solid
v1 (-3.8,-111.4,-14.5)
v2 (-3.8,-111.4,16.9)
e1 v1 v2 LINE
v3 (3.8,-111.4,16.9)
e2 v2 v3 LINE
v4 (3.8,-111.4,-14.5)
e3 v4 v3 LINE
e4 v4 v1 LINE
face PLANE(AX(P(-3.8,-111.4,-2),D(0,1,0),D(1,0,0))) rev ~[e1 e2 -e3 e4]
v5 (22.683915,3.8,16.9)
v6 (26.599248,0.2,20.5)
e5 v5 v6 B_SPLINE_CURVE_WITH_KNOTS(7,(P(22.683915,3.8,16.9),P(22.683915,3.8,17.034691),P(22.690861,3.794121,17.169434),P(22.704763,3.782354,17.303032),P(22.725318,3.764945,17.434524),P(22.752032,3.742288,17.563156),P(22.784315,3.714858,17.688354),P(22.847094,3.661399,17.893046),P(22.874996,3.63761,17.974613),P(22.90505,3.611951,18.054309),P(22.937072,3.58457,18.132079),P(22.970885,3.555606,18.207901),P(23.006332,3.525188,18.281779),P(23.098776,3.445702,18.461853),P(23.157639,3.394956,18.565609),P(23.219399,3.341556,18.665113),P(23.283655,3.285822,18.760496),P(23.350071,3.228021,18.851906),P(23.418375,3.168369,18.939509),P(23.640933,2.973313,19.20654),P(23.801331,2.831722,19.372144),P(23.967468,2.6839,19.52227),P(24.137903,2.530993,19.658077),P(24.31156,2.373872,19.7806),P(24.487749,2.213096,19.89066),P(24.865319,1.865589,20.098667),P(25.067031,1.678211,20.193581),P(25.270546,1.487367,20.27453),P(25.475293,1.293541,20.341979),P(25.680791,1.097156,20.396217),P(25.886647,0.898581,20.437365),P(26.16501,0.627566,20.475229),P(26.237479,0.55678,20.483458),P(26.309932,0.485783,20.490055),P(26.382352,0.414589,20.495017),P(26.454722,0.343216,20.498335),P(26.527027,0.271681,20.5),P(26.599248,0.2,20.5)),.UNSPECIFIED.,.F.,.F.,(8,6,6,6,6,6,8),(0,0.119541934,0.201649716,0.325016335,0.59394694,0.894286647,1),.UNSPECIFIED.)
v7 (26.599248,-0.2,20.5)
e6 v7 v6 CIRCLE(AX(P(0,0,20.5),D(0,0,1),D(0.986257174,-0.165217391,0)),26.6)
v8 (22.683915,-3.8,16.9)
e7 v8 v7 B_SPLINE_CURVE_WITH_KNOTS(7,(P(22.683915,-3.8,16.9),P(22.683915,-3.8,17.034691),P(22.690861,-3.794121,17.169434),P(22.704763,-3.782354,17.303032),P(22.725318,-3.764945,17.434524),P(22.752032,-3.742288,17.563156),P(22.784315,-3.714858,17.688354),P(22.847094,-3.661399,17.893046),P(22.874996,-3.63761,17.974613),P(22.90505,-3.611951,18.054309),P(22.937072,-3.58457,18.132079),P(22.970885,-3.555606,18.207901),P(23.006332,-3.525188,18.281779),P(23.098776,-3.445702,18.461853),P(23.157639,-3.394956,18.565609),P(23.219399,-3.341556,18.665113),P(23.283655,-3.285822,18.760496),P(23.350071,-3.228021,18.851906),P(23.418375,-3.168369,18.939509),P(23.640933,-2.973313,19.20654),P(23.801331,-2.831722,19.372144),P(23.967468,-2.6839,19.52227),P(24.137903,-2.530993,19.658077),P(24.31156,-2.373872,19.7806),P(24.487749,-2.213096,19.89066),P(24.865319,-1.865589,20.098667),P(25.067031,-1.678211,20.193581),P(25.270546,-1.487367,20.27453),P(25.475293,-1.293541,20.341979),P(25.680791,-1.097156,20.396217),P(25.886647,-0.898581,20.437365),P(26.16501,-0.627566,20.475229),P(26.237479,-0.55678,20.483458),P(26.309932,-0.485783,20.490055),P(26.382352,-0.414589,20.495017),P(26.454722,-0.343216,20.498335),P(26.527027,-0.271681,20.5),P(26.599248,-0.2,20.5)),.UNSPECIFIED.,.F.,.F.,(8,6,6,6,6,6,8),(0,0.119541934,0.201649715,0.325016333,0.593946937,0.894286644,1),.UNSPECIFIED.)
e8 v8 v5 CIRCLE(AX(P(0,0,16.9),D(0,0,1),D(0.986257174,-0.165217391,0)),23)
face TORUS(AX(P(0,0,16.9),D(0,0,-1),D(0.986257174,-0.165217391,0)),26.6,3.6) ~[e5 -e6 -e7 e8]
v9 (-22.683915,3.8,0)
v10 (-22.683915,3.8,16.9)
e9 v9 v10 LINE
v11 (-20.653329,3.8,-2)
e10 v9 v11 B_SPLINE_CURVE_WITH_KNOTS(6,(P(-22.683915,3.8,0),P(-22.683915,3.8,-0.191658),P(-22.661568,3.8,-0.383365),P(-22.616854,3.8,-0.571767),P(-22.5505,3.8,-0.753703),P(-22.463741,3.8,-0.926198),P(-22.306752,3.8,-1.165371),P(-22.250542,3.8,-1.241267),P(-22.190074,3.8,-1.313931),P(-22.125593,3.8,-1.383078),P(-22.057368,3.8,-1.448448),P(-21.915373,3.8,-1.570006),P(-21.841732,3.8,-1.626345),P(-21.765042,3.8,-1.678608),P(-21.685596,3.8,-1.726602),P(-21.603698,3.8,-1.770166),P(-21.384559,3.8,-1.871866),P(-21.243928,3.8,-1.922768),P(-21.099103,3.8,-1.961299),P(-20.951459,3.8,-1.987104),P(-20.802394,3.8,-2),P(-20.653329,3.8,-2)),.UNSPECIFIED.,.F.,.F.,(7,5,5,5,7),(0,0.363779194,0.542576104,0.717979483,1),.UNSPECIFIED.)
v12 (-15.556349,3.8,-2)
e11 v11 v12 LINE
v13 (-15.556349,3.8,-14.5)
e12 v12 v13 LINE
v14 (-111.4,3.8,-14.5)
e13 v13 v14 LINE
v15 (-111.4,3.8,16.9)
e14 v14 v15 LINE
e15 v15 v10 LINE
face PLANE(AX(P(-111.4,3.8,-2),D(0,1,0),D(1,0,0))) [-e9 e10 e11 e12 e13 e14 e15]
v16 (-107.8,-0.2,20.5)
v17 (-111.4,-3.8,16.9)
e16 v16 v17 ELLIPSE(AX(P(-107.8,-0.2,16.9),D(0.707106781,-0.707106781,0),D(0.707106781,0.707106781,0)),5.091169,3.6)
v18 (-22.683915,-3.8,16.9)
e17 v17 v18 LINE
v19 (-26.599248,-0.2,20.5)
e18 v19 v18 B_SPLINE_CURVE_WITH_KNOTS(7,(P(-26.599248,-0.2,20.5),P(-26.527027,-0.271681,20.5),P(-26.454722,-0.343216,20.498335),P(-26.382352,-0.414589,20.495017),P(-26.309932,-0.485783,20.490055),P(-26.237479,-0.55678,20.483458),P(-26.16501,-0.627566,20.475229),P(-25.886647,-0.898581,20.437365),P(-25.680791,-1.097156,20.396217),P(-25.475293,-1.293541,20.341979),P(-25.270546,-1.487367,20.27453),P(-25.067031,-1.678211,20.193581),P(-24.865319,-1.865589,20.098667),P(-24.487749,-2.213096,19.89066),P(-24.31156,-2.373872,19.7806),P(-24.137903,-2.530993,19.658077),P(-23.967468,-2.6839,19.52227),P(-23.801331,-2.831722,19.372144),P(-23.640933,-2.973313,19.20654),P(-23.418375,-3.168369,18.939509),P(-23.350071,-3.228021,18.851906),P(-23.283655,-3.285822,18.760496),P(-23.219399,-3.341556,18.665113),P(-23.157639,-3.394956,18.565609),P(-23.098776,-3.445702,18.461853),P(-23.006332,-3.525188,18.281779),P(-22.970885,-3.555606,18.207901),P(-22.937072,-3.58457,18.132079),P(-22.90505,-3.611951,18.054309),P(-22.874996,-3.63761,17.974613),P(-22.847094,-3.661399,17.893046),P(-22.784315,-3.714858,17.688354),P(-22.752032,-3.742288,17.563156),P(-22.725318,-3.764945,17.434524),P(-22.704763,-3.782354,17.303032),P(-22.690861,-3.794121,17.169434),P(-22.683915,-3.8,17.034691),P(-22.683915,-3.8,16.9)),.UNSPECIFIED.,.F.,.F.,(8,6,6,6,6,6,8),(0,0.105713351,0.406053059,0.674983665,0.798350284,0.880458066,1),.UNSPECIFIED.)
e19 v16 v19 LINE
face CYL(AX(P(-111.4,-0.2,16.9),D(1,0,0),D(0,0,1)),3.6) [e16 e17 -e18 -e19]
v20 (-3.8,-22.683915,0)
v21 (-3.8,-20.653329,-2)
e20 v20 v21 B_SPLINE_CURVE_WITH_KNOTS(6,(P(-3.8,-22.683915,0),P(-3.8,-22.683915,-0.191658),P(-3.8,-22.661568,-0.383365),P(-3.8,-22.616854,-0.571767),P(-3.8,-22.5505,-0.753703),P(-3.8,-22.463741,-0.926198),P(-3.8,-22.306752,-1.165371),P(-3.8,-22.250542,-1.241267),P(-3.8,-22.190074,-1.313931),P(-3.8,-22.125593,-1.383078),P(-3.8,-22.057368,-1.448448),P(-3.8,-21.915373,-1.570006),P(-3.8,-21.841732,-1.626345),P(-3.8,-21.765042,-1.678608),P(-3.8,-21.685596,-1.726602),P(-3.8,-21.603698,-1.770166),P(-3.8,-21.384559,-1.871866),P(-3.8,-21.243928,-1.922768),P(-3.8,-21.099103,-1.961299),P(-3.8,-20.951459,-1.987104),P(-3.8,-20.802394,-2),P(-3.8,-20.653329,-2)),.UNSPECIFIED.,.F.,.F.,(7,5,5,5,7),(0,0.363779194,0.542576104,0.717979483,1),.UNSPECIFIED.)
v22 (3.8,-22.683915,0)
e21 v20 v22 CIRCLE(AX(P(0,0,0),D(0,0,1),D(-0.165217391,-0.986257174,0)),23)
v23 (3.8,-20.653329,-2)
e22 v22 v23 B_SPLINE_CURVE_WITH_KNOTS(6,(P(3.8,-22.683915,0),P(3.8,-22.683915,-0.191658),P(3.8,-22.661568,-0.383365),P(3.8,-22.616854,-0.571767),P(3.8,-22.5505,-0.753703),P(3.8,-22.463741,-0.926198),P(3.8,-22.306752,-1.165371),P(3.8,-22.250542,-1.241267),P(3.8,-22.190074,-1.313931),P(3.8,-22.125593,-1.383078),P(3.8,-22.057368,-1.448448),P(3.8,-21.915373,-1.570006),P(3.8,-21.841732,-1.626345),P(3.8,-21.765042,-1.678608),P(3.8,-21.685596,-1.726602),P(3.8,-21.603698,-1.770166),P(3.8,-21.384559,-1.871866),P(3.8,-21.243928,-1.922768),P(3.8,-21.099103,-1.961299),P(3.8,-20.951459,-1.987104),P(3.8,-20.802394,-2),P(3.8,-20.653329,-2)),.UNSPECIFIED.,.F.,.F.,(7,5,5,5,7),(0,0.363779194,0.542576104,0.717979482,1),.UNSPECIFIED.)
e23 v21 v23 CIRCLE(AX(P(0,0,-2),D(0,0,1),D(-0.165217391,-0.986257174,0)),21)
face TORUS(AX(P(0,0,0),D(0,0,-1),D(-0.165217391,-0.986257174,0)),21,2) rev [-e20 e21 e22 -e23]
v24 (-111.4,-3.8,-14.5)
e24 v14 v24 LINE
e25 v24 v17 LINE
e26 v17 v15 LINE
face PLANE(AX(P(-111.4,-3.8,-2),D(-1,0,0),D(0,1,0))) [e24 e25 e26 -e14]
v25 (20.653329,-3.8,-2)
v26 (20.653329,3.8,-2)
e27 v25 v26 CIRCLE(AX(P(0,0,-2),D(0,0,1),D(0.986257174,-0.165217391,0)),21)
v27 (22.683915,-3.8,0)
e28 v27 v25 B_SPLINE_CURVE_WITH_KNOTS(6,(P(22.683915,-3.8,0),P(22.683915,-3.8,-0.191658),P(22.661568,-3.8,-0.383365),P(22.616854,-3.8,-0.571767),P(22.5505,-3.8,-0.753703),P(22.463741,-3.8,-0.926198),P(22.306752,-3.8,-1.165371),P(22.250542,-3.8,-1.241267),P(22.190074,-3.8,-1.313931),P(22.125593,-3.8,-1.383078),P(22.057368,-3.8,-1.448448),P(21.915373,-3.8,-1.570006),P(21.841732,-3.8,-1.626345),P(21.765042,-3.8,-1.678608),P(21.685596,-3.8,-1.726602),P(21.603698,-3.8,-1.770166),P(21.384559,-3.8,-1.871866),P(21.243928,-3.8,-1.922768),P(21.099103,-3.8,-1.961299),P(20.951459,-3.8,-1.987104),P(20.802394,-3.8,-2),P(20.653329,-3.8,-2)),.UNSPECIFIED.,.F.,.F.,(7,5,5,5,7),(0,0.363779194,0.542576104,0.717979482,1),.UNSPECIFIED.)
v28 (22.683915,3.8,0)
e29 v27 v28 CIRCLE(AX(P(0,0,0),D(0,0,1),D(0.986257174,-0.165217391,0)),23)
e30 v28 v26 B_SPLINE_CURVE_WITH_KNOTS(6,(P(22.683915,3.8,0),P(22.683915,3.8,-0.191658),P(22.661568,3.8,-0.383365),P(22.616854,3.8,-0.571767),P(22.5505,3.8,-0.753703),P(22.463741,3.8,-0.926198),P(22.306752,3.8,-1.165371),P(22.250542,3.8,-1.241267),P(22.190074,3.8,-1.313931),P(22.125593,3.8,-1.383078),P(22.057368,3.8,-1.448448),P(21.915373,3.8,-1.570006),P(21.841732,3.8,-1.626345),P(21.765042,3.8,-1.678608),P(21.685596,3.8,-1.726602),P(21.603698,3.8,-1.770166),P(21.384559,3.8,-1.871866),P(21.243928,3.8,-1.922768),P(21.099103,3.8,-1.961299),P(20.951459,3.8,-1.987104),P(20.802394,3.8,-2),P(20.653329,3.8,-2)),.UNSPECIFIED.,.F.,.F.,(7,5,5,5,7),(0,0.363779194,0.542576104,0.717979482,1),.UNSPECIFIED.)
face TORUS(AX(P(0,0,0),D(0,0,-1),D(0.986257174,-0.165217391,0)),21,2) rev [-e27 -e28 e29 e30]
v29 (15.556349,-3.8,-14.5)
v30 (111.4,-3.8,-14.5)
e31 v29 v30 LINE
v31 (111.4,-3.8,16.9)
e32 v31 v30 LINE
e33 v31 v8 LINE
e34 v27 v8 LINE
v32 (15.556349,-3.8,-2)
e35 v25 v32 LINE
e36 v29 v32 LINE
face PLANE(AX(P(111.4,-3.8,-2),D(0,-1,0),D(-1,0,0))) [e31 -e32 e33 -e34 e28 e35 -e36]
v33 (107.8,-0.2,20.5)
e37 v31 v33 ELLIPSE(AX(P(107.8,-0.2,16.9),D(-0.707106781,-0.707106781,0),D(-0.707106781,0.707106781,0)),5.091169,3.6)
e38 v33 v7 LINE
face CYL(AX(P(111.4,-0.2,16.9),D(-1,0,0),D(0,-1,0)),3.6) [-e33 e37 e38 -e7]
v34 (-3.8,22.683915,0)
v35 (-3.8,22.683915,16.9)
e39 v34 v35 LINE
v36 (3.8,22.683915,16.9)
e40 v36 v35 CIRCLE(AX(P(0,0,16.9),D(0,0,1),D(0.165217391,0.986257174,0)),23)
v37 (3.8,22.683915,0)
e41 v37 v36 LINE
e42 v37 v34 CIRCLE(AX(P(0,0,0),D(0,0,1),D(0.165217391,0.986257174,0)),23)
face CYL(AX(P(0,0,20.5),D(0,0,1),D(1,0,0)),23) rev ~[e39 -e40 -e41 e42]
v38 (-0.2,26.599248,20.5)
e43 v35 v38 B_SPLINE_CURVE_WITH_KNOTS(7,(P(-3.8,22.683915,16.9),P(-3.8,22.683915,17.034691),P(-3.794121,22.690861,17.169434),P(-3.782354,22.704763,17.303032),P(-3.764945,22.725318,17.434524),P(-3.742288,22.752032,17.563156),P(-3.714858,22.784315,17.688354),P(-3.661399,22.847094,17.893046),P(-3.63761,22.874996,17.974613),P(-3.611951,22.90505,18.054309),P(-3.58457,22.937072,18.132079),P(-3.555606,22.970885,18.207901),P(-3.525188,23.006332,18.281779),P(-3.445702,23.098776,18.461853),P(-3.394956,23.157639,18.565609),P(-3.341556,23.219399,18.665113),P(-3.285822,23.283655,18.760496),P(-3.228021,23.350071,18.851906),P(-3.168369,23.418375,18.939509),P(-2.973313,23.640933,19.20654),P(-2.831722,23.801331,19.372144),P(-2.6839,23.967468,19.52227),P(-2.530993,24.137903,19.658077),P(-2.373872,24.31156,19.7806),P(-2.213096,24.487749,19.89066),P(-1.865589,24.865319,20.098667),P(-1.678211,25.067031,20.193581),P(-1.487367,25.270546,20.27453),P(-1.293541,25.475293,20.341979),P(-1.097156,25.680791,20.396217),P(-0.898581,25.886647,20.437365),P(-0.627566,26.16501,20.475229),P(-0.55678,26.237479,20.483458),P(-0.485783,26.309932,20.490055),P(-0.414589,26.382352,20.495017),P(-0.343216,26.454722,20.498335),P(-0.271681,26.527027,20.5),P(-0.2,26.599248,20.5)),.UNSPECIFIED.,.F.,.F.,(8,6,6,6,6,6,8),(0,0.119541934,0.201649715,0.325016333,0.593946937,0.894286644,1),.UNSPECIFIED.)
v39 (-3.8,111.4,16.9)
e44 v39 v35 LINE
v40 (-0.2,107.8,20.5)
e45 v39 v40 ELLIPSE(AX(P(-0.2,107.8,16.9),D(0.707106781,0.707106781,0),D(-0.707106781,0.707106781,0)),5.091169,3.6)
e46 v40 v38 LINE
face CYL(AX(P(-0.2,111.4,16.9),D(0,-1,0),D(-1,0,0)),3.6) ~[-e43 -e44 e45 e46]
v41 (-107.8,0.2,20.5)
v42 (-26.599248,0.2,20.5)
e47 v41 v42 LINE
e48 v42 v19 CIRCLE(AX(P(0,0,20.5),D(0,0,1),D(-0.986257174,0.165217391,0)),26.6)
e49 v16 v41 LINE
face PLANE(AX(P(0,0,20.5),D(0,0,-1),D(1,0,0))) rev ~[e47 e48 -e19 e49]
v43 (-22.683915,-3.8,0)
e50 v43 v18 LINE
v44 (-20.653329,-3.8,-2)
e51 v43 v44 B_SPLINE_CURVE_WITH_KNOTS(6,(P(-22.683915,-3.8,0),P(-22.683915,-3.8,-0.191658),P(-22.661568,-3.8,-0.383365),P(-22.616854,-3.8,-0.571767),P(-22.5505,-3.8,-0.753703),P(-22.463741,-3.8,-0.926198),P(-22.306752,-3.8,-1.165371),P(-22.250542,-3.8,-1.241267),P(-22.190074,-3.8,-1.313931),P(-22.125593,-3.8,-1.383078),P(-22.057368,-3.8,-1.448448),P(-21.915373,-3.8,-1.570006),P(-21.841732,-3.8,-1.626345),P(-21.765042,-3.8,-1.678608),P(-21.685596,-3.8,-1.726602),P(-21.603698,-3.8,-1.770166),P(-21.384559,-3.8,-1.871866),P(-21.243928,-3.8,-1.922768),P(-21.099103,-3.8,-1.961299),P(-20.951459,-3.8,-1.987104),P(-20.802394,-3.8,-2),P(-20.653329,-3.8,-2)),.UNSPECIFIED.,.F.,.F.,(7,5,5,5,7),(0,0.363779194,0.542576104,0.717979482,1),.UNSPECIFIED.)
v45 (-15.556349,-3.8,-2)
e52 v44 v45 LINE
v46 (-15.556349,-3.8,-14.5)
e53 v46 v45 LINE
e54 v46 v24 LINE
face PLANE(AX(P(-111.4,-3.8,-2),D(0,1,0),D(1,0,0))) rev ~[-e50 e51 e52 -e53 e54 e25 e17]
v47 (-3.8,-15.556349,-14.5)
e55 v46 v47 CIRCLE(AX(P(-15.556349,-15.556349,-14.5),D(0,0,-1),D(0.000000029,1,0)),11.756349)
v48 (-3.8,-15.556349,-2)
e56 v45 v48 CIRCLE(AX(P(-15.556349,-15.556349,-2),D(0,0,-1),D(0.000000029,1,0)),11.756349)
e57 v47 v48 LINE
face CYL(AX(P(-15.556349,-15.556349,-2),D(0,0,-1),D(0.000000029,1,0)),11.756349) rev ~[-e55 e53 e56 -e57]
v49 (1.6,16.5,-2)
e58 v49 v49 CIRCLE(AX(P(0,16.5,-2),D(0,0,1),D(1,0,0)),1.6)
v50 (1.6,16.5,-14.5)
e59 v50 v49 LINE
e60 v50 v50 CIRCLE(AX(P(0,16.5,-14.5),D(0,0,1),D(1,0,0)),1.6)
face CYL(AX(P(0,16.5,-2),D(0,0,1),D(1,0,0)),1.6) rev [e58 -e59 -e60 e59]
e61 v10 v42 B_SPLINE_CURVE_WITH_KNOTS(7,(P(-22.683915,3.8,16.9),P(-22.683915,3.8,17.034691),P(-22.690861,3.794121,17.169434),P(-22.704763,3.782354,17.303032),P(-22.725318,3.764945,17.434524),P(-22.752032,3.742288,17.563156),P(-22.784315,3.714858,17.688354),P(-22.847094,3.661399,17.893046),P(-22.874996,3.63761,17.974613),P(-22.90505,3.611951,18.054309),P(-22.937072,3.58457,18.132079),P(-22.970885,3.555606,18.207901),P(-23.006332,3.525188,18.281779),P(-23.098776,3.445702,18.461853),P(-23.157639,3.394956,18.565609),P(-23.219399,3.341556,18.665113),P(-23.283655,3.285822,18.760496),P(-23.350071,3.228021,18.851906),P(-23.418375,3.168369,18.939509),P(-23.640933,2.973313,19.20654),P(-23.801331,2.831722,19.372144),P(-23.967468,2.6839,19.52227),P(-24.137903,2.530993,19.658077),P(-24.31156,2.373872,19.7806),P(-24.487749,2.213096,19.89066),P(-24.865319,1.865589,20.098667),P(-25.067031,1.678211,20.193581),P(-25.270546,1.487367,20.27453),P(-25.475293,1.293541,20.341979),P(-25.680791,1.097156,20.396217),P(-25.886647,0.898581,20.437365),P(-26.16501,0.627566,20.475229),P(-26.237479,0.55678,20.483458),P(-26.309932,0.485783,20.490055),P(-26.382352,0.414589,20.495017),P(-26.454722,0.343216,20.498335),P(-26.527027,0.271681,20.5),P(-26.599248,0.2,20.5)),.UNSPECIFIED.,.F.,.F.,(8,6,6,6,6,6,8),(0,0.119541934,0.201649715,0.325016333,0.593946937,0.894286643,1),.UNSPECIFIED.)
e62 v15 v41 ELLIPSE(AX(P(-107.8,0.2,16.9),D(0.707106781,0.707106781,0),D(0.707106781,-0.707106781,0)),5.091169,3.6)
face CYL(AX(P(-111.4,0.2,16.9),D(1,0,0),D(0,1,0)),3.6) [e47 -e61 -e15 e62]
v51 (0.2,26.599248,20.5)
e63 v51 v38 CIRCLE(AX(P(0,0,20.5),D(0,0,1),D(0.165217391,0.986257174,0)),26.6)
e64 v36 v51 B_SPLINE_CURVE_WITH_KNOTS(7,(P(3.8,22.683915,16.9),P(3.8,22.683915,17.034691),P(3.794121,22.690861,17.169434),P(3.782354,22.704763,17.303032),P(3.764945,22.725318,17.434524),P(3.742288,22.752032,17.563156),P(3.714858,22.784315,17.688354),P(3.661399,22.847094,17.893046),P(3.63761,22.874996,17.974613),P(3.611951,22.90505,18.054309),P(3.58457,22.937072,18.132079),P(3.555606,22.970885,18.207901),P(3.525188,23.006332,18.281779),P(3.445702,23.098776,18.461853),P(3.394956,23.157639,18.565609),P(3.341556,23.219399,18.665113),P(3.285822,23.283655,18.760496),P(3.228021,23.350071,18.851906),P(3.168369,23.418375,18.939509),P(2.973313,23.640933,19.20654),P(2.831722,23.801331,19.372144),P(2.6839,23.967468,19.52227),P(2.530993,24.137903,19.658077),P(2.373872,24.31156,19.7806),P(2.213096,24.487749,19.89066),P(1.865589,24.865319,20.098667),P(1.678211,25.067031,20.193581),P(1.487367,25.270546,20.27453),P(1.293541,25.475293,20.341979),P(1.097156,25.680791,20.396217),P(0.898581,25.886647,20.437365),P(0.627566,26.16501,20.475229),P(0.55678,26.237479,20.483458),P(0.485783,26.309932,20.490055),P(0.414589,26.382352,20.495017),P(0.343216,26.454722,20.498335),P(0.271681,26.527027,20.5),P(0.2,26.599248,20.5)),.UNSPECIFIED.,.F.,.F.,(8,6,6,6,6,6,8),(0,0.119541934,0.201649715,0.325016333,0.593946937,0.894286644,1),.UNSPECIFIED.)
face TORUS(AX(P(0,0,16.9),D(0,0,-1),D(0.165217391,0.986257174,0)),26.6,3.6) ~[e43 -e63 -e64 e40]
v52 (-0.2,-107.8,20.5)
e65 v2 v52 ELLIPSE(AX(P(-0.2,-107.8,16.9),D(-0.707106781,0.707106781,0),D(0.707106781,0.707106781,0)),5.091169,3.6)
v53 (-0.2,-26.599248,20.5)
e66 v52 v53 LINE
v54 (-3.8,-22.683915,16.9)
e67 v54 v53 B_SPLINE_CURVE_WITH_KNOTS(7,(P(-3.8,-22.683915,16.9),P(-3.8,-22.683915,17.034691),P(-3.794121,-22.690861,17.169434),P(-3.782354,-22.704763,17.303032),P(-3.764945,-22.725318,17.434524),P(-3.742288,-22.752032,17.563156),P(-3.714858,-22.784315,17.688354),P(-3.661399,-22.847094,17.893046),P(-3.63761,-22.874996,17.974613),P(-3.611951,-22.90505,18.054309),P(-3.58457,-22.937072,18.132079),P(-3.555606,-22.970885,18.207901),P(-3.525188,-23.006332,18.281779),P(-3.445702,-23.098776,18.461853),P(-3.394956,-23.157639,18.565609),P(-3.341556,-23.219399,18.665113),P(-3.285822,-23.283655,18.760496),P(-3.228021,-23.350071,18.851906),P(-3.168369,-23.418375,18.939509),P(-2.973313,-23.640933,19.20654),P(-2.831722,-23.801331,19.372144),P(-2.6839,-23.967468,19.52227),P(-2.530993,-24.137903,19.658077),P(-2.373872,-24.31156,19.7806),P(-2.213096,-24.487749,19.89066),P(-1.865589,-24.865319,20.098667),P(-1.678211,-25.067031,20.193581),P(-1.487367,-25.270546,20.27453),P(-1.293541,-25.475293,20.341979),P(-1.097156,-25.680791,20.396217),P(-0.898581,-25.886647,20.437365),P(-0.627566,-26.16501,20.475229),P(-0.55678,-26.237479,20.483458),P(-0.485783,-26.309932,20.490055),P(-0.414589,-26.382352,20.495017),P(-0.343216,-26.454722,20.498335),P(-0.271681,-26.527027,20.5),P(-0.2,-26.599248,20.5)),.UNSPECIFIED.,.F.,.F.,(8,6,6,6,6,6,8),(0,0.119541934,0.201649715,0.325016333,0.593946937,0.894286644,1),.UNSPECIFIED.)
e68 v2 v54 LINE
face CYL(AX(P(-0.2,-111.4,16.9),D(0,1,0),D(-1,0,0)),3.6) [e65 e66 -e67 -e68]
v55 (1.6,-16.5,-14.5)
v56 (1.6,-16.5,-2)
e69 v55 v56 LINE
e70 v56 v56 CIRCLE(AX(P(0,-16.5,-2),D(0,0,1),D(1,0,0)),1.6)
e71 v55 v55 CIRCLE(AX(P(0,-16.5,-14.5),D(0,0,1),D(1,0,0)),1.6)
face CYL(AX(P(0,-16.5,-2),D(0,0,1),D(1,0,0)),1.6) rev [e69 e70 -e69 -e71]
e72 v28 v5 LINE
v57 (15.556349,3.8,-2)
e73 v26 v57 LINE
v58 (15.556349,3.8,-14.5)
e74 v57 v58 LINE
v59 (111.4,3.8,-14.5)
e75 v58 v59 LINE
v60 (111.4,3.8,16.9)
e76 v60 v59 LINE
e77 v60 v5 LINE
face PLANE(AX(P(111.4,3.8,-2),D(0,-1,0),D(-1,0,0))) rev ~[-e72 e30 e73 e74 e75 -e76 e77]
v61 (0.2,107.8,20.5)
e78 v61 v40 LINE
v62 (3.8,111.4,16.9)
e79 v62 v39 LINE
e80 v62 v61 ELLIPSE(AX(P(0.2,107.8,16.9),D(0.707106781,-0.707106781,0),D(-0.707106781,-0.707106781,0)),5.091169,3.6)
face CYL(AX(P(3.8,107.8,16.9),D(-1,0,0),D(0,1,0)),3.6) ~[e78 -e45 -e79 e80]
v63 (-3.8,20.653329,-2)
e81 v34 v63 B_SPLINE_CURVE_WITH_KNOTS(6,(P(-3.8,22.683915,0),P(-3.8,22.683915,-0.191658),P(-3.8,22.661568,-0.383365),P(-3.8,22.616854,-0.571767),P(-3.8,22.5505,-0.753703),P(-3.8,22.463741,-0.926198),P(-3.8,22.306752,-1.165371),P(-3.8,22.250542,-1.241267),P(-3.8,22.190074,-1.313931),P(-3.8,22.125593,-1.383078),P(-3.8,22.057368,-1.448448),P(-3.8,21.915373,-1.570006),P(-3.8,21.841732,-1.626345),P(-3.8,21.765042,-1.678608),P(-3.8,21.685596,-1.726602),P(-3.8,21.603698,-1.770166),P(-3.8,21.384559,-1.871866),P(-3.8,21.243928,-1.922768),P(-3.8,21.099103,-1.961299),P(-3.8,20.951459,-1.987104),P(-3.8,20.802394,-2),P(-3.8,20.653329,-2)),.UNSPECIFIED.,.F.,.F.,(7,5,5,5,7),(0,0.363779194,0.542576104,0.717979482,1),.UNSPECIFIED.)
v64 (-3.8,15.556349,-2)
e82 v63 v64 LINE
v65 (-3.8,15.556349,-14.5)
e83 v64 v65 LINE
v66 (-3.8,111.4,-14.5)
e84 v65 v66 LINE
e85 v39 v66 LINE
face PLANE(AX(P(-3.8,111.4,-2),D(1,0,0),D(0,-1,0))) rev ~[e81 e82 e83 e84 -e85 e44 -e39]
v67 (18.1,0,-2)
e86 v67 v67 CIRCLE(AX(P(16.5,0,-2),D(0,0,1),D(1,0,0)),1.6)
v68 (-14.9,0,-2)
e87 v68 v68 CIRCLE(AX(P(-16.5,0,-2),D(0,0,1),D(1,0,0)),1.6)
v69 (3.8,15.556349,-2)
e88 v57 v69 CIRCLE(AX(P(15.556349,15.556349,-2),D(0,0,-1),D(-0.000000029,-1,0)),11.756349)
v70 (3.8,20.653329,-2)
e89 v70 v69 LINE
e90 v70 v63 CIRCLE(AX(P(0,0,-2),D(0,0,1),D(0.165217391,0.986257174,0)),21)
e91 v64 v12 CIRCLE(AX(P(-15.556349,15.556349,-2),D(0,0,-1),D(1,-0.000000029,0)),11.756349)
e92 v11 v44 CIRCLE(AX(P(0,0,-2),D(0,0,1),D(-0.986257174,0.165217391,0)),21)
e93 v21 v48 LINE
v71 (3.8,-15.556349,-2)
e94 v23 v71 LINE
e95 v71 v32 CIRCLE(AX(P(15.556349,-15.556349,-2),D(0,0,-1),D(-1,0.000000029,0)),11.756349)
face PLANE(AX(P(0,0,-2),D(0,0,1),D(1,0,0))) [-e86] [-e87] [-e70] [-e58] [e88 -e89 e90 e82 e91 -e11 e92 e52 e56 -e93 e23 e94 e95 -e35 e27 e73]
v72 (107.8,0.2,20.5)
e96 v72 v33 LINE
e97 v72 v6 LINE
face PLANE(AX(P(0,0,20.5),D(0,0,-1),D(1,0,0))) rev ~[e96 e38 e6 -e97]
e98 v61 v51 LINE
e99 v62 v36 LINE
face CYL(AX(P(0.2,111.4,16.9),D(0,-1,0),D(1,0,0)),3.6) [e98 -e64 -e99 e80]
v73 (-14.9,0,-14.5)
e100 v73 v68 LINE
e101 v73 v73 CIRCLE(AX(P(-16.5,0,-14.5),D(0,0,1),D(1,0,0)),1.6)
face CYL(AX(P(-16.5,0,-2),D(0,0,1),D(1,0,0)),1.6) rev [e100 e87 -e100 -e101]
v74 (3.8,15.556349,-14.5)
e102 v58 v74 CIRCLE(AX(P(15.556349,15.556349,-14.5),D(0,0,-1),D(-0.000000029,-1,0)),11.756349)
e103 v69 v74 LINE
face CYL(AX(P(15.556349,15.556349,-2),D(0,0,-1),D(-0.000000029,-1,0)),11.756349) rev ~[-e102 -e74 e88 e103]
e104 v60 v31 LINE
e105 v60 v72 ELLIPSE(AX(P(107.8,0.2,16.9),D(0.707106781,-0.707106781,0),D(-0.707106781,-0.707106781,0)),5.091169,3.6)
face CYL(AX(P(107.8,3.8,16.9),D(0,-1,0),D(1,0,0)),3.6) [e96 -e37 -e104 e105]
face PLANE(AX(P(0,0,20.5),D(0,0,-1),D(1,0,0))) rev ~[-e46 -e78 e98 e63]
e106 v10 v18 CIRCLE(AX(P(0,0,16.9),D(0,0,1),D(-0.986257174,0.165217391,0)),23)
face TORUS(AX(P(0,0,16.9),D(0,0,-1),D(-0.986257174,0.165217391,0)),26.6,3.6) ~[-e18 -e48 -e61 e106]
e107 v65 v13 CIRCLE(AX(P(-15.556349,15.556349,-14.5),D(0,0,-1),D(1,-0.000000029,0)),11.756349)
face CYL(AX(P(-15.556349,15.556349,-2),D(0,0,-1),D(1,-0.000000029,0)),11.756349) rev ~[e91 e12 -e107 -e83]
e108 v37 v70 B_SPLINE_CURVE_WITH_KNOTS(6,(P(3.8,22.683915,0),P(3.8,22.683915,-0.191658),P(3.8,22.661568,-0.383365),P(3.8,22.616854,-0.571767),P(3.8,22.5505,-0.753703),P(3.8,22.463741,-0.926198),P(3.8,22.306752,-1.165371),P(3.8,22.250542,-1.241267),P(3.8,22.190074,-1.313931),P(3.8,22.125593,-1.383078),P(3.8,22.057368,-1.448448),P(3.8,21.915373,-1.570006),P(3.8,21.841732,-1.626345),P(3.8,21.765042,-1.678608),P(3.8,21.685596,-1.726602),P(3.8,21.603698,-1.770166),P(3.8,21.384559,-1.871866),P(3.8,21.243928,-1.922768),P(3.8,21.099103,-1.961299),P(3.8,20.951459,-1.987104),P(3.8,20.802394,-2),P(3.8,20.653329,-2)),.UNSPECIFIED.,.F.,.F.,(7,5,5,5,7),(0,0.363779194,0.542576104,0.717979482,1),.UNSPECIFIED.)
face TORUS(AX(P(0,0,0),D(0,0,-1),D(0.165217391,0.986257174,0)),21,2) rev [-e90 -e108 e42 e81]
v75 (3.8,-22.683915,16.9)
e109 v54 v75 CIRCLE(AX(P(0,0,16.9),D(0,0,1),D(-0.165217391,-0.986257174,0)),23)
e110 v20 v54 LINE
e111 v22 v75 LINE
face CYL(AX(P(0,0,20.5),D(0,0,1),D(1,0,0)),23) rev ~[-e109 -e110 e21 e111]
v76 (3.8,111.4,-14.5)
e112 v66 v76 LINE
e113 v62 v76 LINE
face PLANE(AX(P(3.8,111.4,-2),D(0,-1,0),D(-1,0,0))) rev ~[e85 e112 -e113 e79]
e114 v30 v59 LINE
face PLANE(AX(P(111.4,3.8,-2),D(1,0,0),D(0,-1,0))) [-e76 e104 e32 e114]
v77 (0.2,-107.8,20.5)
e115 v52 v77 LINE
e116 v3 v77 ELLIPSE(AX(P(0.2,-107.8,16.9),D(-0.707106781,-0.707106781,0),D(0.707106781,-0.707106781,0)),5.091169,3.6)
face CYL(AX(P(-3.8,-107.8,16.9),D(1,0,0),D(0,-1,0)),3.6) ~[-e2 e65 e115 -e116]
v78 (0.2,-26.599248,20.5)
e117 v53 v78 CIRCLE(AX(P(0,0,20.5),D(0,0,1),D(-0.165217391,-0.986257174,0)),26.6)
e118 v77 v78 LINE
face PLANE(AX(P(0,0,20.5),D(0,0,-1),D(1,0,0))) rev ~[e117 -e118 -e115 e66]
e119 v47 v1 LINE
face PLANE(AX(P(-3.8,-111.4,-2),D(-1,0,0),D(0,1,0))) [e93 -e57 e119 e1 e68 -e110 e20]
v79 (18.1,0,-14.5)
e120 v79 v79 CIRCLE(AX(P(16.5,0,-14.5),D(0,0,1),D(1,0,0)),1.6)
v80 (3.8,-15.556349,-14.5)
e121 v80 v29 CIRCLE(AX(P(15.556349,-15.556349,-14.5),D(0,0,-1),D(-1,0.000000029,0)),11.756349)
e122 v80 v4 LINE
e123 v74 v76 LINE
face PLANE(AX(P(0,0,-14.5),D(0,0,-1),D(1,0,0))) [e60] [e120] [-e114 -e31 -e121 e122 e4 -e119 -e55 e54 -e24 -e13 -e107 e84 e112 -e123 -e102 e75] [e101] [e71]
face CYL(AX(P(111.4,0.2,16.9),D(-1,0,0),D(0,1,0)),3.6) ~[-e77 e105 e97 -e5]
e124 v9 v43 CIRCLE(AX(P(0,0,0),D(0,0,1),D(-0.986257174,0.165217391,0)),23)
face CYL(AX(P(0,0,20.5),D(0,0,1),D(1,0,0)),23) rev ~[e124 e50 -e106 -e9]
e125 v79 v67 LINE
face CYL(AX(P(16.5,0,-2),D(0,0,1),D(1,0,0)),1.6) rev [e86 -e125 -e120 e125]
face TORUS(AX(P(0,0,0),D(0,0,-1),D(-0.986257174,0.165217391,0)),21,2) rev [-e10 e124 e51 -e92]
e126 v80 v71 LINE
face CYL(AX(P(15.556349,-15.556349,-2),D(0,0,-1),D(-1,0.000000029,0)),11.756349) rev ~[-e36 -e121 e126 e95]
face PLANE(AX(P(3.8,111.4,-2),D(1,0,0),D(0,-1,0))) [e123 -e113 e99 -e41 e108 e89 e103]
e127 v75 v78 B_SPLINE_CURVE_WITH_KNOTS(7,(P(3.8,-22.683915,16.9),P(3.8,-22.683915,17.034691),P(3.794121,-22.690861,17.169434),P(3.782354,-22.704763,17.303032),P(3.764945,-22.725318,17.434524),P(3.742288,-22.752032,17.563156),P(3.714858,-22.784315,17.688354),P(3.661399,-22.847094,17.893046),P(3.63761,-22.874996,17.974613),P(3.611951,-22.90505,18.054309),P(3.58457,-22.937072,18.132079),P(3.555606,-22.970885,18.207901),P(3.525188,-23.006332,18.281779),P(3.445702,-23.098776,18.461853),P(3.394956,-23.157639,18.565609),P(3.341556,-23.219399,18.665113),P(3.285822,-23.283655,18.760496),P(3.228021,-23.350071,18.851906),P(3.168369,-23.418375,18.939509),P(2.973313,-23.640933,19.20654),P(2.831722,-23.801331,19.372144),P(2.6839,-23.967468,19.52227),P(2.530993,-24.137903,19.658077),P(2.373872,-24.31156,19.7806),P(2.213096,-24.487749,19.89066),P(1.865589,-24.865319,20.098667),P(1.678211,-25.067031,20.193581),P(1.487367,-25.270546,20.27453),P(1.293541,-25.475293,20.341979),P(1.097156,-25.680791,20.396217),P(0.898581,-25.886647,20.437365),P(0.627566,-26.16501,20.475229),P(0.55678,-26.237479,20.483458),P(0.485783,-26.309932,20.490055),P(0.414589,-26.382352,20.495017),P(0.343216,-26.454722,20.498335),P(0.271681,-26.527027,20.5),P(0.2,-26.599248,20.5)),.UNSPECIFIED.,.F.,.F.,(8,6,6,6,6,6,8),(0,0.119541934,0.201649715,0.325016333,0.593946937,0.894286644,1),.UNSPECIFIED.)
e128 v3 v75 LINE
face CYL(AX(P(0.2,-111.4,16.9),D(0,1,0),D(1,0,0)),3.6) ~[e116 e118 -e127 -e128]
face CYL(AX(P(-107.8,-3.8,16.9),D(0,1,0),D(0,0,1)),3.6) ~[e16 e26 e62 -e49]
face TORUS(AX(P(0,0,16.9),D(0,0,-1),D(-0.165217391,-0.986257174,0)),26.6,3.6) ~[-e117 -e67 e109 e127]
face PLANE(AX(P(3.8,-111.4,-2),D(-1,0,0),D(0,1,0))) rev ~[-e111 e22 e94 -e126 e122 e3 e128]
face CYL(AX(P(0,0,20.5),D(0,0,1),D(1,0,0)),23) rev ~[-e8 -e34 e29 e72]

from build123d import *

# Parameters (mm, degrees)
SKETCH006_R     = 1.6
PAD003_DEPTH    = 22.5
SKETCH023_W     = 224
SKETCH023_H     = 224
POCKET006_DEPTH = 10
SKETCH025_R     = 23
POCKET007_DEPTH = 22.5
FILLET_R        = 2
FILLET010_R     = 3.6


with BuildPart() as part:
    # Sketch006 (on Face23 of Pad) → Pad003 (new body, symmetric)
    with BuildSketch(Plane(origin=(0, 0, -2), x_dir=(1, 0, 0), z_dir=(0, 0, -1))):
        with BuildLine():
            Line((-111.4, -3.8), (-15.556349, -3.8))
            ThreePointArc((-3.8, -15.556349), (-7.243355, -7.243355), (-15.556349, -3.8))
            Line((-3.8, -111.4), (-3.8, -15.556349))
            Line((3.8, -111.4), (-3.8, -111.4))
            Line((3.8, -111.4), (3.8, -15.556349))
            ThreePointArc((15.556349, -3.8), (7.243355, -7.243355), (3.8, -15.556349))
            Line((111.4, -3.8), (15.556349, -3.8))
            Line((111.4, -3.8), (111.4, 3.8))
            Line((111.4, 3.8), (15.556349, 3.8))
            ThreePointArc((3.8, 15.556349), (7.243355, 7.243355), (15.556349, 3.8))
            Line((3.8, 111.4), (3.8, 15.556349))
            Line((-3.8, 111.4), (3.8, 111.4))
            Line((-3.8, 111.4), (-3.8, 15.556349))
            ThreePointArc((-15.556349, 3.8), (-7.243355, 7.243355), (-3.8, 15.556349))
            Line((-111.4, 3.8), (-15.556349, 3.8))
            Line((-111.4, 3.8), (-111.4, -3.8))
        make_face()
        with Locations((-16.5, 0)):
            Circle(SKETCH006_R, mode=Mode.SUBTRACT)
        with Locations((0, -16.5)):
            Circle(SKETCH006_R, mode=Mode.SUBTRACT)
        with Locations((16.5, 0)):
            Circle(SKETCH006_R, mode=Mode.SUBTRACT)
        with Locations((0, 16.5)):
            Circle(SKETCH006_R, mode=Mode.SUBTRACT)
    extrude(amount=PAD003_DEPTH, both=True)

    # Sketch023 → Pocket006 (cut)
    with BuildSketch(Plane(origin=(0, 0, -24.5), x_dir=(1, 0, 0), z_dir=(0, 0, -1))):
        Rectangle(SKETCH023_W, SKETCH023_H)
    extrude(amount=-POCKET006_DEPTH, mode=Mode.SUBTRACT)

    # Sketch025 → Pocket007 (cut)
    with BuildSketch(Plane.XY.offset(20.5)):
        Circle(SKETCH025_R)
    extrude(amount=-POCKET007_DEPTH, mode=Mode.SUBTRACT)

    # Fillet
    fillet_edges = [part.edges().sort_by_distance(p)[0] for p in [
        (0, -23, -2),
        (0, 23, -2),
        (22.920843, 1.906562, -2),
        (-23, 0, -2),
    ]]
    fillet(fillet_edges, radius=FILLET_R)

    # Fillet010
    fillet010_edges = [part.edges().sort_by_distance(p)[0] for p in [
        (0, 23, 20.5),
        (3.8, 67.041958, 20.5),
        (0, 111.4, 20.5),
        (-3.8, 67.041958, 20.5),
        (67.041958, -3.8, 20.5),
        (111.4, 0, 20.5),
        (67.041958, 3.8, 20.5),
        (22.920843, 1.906562, 20.5),
        (22.920843, -1.906562, 20.5),
        (-3.8, -67.041958, 20.5),
        (0, -111.4, 20.5),
        (3.8, -67.041958, 20.5),
        (0, -23, 20.5),
        (-67.041958, -3.8, 20.5),
        (-23, 0, 20.5),
        (-67.041958, 3.8, 20.5),
        (-111.4, 0, 20.5),
    ]]
    fillet(fillet010_edges, radius=FILLET010_R)


solid = part.part
